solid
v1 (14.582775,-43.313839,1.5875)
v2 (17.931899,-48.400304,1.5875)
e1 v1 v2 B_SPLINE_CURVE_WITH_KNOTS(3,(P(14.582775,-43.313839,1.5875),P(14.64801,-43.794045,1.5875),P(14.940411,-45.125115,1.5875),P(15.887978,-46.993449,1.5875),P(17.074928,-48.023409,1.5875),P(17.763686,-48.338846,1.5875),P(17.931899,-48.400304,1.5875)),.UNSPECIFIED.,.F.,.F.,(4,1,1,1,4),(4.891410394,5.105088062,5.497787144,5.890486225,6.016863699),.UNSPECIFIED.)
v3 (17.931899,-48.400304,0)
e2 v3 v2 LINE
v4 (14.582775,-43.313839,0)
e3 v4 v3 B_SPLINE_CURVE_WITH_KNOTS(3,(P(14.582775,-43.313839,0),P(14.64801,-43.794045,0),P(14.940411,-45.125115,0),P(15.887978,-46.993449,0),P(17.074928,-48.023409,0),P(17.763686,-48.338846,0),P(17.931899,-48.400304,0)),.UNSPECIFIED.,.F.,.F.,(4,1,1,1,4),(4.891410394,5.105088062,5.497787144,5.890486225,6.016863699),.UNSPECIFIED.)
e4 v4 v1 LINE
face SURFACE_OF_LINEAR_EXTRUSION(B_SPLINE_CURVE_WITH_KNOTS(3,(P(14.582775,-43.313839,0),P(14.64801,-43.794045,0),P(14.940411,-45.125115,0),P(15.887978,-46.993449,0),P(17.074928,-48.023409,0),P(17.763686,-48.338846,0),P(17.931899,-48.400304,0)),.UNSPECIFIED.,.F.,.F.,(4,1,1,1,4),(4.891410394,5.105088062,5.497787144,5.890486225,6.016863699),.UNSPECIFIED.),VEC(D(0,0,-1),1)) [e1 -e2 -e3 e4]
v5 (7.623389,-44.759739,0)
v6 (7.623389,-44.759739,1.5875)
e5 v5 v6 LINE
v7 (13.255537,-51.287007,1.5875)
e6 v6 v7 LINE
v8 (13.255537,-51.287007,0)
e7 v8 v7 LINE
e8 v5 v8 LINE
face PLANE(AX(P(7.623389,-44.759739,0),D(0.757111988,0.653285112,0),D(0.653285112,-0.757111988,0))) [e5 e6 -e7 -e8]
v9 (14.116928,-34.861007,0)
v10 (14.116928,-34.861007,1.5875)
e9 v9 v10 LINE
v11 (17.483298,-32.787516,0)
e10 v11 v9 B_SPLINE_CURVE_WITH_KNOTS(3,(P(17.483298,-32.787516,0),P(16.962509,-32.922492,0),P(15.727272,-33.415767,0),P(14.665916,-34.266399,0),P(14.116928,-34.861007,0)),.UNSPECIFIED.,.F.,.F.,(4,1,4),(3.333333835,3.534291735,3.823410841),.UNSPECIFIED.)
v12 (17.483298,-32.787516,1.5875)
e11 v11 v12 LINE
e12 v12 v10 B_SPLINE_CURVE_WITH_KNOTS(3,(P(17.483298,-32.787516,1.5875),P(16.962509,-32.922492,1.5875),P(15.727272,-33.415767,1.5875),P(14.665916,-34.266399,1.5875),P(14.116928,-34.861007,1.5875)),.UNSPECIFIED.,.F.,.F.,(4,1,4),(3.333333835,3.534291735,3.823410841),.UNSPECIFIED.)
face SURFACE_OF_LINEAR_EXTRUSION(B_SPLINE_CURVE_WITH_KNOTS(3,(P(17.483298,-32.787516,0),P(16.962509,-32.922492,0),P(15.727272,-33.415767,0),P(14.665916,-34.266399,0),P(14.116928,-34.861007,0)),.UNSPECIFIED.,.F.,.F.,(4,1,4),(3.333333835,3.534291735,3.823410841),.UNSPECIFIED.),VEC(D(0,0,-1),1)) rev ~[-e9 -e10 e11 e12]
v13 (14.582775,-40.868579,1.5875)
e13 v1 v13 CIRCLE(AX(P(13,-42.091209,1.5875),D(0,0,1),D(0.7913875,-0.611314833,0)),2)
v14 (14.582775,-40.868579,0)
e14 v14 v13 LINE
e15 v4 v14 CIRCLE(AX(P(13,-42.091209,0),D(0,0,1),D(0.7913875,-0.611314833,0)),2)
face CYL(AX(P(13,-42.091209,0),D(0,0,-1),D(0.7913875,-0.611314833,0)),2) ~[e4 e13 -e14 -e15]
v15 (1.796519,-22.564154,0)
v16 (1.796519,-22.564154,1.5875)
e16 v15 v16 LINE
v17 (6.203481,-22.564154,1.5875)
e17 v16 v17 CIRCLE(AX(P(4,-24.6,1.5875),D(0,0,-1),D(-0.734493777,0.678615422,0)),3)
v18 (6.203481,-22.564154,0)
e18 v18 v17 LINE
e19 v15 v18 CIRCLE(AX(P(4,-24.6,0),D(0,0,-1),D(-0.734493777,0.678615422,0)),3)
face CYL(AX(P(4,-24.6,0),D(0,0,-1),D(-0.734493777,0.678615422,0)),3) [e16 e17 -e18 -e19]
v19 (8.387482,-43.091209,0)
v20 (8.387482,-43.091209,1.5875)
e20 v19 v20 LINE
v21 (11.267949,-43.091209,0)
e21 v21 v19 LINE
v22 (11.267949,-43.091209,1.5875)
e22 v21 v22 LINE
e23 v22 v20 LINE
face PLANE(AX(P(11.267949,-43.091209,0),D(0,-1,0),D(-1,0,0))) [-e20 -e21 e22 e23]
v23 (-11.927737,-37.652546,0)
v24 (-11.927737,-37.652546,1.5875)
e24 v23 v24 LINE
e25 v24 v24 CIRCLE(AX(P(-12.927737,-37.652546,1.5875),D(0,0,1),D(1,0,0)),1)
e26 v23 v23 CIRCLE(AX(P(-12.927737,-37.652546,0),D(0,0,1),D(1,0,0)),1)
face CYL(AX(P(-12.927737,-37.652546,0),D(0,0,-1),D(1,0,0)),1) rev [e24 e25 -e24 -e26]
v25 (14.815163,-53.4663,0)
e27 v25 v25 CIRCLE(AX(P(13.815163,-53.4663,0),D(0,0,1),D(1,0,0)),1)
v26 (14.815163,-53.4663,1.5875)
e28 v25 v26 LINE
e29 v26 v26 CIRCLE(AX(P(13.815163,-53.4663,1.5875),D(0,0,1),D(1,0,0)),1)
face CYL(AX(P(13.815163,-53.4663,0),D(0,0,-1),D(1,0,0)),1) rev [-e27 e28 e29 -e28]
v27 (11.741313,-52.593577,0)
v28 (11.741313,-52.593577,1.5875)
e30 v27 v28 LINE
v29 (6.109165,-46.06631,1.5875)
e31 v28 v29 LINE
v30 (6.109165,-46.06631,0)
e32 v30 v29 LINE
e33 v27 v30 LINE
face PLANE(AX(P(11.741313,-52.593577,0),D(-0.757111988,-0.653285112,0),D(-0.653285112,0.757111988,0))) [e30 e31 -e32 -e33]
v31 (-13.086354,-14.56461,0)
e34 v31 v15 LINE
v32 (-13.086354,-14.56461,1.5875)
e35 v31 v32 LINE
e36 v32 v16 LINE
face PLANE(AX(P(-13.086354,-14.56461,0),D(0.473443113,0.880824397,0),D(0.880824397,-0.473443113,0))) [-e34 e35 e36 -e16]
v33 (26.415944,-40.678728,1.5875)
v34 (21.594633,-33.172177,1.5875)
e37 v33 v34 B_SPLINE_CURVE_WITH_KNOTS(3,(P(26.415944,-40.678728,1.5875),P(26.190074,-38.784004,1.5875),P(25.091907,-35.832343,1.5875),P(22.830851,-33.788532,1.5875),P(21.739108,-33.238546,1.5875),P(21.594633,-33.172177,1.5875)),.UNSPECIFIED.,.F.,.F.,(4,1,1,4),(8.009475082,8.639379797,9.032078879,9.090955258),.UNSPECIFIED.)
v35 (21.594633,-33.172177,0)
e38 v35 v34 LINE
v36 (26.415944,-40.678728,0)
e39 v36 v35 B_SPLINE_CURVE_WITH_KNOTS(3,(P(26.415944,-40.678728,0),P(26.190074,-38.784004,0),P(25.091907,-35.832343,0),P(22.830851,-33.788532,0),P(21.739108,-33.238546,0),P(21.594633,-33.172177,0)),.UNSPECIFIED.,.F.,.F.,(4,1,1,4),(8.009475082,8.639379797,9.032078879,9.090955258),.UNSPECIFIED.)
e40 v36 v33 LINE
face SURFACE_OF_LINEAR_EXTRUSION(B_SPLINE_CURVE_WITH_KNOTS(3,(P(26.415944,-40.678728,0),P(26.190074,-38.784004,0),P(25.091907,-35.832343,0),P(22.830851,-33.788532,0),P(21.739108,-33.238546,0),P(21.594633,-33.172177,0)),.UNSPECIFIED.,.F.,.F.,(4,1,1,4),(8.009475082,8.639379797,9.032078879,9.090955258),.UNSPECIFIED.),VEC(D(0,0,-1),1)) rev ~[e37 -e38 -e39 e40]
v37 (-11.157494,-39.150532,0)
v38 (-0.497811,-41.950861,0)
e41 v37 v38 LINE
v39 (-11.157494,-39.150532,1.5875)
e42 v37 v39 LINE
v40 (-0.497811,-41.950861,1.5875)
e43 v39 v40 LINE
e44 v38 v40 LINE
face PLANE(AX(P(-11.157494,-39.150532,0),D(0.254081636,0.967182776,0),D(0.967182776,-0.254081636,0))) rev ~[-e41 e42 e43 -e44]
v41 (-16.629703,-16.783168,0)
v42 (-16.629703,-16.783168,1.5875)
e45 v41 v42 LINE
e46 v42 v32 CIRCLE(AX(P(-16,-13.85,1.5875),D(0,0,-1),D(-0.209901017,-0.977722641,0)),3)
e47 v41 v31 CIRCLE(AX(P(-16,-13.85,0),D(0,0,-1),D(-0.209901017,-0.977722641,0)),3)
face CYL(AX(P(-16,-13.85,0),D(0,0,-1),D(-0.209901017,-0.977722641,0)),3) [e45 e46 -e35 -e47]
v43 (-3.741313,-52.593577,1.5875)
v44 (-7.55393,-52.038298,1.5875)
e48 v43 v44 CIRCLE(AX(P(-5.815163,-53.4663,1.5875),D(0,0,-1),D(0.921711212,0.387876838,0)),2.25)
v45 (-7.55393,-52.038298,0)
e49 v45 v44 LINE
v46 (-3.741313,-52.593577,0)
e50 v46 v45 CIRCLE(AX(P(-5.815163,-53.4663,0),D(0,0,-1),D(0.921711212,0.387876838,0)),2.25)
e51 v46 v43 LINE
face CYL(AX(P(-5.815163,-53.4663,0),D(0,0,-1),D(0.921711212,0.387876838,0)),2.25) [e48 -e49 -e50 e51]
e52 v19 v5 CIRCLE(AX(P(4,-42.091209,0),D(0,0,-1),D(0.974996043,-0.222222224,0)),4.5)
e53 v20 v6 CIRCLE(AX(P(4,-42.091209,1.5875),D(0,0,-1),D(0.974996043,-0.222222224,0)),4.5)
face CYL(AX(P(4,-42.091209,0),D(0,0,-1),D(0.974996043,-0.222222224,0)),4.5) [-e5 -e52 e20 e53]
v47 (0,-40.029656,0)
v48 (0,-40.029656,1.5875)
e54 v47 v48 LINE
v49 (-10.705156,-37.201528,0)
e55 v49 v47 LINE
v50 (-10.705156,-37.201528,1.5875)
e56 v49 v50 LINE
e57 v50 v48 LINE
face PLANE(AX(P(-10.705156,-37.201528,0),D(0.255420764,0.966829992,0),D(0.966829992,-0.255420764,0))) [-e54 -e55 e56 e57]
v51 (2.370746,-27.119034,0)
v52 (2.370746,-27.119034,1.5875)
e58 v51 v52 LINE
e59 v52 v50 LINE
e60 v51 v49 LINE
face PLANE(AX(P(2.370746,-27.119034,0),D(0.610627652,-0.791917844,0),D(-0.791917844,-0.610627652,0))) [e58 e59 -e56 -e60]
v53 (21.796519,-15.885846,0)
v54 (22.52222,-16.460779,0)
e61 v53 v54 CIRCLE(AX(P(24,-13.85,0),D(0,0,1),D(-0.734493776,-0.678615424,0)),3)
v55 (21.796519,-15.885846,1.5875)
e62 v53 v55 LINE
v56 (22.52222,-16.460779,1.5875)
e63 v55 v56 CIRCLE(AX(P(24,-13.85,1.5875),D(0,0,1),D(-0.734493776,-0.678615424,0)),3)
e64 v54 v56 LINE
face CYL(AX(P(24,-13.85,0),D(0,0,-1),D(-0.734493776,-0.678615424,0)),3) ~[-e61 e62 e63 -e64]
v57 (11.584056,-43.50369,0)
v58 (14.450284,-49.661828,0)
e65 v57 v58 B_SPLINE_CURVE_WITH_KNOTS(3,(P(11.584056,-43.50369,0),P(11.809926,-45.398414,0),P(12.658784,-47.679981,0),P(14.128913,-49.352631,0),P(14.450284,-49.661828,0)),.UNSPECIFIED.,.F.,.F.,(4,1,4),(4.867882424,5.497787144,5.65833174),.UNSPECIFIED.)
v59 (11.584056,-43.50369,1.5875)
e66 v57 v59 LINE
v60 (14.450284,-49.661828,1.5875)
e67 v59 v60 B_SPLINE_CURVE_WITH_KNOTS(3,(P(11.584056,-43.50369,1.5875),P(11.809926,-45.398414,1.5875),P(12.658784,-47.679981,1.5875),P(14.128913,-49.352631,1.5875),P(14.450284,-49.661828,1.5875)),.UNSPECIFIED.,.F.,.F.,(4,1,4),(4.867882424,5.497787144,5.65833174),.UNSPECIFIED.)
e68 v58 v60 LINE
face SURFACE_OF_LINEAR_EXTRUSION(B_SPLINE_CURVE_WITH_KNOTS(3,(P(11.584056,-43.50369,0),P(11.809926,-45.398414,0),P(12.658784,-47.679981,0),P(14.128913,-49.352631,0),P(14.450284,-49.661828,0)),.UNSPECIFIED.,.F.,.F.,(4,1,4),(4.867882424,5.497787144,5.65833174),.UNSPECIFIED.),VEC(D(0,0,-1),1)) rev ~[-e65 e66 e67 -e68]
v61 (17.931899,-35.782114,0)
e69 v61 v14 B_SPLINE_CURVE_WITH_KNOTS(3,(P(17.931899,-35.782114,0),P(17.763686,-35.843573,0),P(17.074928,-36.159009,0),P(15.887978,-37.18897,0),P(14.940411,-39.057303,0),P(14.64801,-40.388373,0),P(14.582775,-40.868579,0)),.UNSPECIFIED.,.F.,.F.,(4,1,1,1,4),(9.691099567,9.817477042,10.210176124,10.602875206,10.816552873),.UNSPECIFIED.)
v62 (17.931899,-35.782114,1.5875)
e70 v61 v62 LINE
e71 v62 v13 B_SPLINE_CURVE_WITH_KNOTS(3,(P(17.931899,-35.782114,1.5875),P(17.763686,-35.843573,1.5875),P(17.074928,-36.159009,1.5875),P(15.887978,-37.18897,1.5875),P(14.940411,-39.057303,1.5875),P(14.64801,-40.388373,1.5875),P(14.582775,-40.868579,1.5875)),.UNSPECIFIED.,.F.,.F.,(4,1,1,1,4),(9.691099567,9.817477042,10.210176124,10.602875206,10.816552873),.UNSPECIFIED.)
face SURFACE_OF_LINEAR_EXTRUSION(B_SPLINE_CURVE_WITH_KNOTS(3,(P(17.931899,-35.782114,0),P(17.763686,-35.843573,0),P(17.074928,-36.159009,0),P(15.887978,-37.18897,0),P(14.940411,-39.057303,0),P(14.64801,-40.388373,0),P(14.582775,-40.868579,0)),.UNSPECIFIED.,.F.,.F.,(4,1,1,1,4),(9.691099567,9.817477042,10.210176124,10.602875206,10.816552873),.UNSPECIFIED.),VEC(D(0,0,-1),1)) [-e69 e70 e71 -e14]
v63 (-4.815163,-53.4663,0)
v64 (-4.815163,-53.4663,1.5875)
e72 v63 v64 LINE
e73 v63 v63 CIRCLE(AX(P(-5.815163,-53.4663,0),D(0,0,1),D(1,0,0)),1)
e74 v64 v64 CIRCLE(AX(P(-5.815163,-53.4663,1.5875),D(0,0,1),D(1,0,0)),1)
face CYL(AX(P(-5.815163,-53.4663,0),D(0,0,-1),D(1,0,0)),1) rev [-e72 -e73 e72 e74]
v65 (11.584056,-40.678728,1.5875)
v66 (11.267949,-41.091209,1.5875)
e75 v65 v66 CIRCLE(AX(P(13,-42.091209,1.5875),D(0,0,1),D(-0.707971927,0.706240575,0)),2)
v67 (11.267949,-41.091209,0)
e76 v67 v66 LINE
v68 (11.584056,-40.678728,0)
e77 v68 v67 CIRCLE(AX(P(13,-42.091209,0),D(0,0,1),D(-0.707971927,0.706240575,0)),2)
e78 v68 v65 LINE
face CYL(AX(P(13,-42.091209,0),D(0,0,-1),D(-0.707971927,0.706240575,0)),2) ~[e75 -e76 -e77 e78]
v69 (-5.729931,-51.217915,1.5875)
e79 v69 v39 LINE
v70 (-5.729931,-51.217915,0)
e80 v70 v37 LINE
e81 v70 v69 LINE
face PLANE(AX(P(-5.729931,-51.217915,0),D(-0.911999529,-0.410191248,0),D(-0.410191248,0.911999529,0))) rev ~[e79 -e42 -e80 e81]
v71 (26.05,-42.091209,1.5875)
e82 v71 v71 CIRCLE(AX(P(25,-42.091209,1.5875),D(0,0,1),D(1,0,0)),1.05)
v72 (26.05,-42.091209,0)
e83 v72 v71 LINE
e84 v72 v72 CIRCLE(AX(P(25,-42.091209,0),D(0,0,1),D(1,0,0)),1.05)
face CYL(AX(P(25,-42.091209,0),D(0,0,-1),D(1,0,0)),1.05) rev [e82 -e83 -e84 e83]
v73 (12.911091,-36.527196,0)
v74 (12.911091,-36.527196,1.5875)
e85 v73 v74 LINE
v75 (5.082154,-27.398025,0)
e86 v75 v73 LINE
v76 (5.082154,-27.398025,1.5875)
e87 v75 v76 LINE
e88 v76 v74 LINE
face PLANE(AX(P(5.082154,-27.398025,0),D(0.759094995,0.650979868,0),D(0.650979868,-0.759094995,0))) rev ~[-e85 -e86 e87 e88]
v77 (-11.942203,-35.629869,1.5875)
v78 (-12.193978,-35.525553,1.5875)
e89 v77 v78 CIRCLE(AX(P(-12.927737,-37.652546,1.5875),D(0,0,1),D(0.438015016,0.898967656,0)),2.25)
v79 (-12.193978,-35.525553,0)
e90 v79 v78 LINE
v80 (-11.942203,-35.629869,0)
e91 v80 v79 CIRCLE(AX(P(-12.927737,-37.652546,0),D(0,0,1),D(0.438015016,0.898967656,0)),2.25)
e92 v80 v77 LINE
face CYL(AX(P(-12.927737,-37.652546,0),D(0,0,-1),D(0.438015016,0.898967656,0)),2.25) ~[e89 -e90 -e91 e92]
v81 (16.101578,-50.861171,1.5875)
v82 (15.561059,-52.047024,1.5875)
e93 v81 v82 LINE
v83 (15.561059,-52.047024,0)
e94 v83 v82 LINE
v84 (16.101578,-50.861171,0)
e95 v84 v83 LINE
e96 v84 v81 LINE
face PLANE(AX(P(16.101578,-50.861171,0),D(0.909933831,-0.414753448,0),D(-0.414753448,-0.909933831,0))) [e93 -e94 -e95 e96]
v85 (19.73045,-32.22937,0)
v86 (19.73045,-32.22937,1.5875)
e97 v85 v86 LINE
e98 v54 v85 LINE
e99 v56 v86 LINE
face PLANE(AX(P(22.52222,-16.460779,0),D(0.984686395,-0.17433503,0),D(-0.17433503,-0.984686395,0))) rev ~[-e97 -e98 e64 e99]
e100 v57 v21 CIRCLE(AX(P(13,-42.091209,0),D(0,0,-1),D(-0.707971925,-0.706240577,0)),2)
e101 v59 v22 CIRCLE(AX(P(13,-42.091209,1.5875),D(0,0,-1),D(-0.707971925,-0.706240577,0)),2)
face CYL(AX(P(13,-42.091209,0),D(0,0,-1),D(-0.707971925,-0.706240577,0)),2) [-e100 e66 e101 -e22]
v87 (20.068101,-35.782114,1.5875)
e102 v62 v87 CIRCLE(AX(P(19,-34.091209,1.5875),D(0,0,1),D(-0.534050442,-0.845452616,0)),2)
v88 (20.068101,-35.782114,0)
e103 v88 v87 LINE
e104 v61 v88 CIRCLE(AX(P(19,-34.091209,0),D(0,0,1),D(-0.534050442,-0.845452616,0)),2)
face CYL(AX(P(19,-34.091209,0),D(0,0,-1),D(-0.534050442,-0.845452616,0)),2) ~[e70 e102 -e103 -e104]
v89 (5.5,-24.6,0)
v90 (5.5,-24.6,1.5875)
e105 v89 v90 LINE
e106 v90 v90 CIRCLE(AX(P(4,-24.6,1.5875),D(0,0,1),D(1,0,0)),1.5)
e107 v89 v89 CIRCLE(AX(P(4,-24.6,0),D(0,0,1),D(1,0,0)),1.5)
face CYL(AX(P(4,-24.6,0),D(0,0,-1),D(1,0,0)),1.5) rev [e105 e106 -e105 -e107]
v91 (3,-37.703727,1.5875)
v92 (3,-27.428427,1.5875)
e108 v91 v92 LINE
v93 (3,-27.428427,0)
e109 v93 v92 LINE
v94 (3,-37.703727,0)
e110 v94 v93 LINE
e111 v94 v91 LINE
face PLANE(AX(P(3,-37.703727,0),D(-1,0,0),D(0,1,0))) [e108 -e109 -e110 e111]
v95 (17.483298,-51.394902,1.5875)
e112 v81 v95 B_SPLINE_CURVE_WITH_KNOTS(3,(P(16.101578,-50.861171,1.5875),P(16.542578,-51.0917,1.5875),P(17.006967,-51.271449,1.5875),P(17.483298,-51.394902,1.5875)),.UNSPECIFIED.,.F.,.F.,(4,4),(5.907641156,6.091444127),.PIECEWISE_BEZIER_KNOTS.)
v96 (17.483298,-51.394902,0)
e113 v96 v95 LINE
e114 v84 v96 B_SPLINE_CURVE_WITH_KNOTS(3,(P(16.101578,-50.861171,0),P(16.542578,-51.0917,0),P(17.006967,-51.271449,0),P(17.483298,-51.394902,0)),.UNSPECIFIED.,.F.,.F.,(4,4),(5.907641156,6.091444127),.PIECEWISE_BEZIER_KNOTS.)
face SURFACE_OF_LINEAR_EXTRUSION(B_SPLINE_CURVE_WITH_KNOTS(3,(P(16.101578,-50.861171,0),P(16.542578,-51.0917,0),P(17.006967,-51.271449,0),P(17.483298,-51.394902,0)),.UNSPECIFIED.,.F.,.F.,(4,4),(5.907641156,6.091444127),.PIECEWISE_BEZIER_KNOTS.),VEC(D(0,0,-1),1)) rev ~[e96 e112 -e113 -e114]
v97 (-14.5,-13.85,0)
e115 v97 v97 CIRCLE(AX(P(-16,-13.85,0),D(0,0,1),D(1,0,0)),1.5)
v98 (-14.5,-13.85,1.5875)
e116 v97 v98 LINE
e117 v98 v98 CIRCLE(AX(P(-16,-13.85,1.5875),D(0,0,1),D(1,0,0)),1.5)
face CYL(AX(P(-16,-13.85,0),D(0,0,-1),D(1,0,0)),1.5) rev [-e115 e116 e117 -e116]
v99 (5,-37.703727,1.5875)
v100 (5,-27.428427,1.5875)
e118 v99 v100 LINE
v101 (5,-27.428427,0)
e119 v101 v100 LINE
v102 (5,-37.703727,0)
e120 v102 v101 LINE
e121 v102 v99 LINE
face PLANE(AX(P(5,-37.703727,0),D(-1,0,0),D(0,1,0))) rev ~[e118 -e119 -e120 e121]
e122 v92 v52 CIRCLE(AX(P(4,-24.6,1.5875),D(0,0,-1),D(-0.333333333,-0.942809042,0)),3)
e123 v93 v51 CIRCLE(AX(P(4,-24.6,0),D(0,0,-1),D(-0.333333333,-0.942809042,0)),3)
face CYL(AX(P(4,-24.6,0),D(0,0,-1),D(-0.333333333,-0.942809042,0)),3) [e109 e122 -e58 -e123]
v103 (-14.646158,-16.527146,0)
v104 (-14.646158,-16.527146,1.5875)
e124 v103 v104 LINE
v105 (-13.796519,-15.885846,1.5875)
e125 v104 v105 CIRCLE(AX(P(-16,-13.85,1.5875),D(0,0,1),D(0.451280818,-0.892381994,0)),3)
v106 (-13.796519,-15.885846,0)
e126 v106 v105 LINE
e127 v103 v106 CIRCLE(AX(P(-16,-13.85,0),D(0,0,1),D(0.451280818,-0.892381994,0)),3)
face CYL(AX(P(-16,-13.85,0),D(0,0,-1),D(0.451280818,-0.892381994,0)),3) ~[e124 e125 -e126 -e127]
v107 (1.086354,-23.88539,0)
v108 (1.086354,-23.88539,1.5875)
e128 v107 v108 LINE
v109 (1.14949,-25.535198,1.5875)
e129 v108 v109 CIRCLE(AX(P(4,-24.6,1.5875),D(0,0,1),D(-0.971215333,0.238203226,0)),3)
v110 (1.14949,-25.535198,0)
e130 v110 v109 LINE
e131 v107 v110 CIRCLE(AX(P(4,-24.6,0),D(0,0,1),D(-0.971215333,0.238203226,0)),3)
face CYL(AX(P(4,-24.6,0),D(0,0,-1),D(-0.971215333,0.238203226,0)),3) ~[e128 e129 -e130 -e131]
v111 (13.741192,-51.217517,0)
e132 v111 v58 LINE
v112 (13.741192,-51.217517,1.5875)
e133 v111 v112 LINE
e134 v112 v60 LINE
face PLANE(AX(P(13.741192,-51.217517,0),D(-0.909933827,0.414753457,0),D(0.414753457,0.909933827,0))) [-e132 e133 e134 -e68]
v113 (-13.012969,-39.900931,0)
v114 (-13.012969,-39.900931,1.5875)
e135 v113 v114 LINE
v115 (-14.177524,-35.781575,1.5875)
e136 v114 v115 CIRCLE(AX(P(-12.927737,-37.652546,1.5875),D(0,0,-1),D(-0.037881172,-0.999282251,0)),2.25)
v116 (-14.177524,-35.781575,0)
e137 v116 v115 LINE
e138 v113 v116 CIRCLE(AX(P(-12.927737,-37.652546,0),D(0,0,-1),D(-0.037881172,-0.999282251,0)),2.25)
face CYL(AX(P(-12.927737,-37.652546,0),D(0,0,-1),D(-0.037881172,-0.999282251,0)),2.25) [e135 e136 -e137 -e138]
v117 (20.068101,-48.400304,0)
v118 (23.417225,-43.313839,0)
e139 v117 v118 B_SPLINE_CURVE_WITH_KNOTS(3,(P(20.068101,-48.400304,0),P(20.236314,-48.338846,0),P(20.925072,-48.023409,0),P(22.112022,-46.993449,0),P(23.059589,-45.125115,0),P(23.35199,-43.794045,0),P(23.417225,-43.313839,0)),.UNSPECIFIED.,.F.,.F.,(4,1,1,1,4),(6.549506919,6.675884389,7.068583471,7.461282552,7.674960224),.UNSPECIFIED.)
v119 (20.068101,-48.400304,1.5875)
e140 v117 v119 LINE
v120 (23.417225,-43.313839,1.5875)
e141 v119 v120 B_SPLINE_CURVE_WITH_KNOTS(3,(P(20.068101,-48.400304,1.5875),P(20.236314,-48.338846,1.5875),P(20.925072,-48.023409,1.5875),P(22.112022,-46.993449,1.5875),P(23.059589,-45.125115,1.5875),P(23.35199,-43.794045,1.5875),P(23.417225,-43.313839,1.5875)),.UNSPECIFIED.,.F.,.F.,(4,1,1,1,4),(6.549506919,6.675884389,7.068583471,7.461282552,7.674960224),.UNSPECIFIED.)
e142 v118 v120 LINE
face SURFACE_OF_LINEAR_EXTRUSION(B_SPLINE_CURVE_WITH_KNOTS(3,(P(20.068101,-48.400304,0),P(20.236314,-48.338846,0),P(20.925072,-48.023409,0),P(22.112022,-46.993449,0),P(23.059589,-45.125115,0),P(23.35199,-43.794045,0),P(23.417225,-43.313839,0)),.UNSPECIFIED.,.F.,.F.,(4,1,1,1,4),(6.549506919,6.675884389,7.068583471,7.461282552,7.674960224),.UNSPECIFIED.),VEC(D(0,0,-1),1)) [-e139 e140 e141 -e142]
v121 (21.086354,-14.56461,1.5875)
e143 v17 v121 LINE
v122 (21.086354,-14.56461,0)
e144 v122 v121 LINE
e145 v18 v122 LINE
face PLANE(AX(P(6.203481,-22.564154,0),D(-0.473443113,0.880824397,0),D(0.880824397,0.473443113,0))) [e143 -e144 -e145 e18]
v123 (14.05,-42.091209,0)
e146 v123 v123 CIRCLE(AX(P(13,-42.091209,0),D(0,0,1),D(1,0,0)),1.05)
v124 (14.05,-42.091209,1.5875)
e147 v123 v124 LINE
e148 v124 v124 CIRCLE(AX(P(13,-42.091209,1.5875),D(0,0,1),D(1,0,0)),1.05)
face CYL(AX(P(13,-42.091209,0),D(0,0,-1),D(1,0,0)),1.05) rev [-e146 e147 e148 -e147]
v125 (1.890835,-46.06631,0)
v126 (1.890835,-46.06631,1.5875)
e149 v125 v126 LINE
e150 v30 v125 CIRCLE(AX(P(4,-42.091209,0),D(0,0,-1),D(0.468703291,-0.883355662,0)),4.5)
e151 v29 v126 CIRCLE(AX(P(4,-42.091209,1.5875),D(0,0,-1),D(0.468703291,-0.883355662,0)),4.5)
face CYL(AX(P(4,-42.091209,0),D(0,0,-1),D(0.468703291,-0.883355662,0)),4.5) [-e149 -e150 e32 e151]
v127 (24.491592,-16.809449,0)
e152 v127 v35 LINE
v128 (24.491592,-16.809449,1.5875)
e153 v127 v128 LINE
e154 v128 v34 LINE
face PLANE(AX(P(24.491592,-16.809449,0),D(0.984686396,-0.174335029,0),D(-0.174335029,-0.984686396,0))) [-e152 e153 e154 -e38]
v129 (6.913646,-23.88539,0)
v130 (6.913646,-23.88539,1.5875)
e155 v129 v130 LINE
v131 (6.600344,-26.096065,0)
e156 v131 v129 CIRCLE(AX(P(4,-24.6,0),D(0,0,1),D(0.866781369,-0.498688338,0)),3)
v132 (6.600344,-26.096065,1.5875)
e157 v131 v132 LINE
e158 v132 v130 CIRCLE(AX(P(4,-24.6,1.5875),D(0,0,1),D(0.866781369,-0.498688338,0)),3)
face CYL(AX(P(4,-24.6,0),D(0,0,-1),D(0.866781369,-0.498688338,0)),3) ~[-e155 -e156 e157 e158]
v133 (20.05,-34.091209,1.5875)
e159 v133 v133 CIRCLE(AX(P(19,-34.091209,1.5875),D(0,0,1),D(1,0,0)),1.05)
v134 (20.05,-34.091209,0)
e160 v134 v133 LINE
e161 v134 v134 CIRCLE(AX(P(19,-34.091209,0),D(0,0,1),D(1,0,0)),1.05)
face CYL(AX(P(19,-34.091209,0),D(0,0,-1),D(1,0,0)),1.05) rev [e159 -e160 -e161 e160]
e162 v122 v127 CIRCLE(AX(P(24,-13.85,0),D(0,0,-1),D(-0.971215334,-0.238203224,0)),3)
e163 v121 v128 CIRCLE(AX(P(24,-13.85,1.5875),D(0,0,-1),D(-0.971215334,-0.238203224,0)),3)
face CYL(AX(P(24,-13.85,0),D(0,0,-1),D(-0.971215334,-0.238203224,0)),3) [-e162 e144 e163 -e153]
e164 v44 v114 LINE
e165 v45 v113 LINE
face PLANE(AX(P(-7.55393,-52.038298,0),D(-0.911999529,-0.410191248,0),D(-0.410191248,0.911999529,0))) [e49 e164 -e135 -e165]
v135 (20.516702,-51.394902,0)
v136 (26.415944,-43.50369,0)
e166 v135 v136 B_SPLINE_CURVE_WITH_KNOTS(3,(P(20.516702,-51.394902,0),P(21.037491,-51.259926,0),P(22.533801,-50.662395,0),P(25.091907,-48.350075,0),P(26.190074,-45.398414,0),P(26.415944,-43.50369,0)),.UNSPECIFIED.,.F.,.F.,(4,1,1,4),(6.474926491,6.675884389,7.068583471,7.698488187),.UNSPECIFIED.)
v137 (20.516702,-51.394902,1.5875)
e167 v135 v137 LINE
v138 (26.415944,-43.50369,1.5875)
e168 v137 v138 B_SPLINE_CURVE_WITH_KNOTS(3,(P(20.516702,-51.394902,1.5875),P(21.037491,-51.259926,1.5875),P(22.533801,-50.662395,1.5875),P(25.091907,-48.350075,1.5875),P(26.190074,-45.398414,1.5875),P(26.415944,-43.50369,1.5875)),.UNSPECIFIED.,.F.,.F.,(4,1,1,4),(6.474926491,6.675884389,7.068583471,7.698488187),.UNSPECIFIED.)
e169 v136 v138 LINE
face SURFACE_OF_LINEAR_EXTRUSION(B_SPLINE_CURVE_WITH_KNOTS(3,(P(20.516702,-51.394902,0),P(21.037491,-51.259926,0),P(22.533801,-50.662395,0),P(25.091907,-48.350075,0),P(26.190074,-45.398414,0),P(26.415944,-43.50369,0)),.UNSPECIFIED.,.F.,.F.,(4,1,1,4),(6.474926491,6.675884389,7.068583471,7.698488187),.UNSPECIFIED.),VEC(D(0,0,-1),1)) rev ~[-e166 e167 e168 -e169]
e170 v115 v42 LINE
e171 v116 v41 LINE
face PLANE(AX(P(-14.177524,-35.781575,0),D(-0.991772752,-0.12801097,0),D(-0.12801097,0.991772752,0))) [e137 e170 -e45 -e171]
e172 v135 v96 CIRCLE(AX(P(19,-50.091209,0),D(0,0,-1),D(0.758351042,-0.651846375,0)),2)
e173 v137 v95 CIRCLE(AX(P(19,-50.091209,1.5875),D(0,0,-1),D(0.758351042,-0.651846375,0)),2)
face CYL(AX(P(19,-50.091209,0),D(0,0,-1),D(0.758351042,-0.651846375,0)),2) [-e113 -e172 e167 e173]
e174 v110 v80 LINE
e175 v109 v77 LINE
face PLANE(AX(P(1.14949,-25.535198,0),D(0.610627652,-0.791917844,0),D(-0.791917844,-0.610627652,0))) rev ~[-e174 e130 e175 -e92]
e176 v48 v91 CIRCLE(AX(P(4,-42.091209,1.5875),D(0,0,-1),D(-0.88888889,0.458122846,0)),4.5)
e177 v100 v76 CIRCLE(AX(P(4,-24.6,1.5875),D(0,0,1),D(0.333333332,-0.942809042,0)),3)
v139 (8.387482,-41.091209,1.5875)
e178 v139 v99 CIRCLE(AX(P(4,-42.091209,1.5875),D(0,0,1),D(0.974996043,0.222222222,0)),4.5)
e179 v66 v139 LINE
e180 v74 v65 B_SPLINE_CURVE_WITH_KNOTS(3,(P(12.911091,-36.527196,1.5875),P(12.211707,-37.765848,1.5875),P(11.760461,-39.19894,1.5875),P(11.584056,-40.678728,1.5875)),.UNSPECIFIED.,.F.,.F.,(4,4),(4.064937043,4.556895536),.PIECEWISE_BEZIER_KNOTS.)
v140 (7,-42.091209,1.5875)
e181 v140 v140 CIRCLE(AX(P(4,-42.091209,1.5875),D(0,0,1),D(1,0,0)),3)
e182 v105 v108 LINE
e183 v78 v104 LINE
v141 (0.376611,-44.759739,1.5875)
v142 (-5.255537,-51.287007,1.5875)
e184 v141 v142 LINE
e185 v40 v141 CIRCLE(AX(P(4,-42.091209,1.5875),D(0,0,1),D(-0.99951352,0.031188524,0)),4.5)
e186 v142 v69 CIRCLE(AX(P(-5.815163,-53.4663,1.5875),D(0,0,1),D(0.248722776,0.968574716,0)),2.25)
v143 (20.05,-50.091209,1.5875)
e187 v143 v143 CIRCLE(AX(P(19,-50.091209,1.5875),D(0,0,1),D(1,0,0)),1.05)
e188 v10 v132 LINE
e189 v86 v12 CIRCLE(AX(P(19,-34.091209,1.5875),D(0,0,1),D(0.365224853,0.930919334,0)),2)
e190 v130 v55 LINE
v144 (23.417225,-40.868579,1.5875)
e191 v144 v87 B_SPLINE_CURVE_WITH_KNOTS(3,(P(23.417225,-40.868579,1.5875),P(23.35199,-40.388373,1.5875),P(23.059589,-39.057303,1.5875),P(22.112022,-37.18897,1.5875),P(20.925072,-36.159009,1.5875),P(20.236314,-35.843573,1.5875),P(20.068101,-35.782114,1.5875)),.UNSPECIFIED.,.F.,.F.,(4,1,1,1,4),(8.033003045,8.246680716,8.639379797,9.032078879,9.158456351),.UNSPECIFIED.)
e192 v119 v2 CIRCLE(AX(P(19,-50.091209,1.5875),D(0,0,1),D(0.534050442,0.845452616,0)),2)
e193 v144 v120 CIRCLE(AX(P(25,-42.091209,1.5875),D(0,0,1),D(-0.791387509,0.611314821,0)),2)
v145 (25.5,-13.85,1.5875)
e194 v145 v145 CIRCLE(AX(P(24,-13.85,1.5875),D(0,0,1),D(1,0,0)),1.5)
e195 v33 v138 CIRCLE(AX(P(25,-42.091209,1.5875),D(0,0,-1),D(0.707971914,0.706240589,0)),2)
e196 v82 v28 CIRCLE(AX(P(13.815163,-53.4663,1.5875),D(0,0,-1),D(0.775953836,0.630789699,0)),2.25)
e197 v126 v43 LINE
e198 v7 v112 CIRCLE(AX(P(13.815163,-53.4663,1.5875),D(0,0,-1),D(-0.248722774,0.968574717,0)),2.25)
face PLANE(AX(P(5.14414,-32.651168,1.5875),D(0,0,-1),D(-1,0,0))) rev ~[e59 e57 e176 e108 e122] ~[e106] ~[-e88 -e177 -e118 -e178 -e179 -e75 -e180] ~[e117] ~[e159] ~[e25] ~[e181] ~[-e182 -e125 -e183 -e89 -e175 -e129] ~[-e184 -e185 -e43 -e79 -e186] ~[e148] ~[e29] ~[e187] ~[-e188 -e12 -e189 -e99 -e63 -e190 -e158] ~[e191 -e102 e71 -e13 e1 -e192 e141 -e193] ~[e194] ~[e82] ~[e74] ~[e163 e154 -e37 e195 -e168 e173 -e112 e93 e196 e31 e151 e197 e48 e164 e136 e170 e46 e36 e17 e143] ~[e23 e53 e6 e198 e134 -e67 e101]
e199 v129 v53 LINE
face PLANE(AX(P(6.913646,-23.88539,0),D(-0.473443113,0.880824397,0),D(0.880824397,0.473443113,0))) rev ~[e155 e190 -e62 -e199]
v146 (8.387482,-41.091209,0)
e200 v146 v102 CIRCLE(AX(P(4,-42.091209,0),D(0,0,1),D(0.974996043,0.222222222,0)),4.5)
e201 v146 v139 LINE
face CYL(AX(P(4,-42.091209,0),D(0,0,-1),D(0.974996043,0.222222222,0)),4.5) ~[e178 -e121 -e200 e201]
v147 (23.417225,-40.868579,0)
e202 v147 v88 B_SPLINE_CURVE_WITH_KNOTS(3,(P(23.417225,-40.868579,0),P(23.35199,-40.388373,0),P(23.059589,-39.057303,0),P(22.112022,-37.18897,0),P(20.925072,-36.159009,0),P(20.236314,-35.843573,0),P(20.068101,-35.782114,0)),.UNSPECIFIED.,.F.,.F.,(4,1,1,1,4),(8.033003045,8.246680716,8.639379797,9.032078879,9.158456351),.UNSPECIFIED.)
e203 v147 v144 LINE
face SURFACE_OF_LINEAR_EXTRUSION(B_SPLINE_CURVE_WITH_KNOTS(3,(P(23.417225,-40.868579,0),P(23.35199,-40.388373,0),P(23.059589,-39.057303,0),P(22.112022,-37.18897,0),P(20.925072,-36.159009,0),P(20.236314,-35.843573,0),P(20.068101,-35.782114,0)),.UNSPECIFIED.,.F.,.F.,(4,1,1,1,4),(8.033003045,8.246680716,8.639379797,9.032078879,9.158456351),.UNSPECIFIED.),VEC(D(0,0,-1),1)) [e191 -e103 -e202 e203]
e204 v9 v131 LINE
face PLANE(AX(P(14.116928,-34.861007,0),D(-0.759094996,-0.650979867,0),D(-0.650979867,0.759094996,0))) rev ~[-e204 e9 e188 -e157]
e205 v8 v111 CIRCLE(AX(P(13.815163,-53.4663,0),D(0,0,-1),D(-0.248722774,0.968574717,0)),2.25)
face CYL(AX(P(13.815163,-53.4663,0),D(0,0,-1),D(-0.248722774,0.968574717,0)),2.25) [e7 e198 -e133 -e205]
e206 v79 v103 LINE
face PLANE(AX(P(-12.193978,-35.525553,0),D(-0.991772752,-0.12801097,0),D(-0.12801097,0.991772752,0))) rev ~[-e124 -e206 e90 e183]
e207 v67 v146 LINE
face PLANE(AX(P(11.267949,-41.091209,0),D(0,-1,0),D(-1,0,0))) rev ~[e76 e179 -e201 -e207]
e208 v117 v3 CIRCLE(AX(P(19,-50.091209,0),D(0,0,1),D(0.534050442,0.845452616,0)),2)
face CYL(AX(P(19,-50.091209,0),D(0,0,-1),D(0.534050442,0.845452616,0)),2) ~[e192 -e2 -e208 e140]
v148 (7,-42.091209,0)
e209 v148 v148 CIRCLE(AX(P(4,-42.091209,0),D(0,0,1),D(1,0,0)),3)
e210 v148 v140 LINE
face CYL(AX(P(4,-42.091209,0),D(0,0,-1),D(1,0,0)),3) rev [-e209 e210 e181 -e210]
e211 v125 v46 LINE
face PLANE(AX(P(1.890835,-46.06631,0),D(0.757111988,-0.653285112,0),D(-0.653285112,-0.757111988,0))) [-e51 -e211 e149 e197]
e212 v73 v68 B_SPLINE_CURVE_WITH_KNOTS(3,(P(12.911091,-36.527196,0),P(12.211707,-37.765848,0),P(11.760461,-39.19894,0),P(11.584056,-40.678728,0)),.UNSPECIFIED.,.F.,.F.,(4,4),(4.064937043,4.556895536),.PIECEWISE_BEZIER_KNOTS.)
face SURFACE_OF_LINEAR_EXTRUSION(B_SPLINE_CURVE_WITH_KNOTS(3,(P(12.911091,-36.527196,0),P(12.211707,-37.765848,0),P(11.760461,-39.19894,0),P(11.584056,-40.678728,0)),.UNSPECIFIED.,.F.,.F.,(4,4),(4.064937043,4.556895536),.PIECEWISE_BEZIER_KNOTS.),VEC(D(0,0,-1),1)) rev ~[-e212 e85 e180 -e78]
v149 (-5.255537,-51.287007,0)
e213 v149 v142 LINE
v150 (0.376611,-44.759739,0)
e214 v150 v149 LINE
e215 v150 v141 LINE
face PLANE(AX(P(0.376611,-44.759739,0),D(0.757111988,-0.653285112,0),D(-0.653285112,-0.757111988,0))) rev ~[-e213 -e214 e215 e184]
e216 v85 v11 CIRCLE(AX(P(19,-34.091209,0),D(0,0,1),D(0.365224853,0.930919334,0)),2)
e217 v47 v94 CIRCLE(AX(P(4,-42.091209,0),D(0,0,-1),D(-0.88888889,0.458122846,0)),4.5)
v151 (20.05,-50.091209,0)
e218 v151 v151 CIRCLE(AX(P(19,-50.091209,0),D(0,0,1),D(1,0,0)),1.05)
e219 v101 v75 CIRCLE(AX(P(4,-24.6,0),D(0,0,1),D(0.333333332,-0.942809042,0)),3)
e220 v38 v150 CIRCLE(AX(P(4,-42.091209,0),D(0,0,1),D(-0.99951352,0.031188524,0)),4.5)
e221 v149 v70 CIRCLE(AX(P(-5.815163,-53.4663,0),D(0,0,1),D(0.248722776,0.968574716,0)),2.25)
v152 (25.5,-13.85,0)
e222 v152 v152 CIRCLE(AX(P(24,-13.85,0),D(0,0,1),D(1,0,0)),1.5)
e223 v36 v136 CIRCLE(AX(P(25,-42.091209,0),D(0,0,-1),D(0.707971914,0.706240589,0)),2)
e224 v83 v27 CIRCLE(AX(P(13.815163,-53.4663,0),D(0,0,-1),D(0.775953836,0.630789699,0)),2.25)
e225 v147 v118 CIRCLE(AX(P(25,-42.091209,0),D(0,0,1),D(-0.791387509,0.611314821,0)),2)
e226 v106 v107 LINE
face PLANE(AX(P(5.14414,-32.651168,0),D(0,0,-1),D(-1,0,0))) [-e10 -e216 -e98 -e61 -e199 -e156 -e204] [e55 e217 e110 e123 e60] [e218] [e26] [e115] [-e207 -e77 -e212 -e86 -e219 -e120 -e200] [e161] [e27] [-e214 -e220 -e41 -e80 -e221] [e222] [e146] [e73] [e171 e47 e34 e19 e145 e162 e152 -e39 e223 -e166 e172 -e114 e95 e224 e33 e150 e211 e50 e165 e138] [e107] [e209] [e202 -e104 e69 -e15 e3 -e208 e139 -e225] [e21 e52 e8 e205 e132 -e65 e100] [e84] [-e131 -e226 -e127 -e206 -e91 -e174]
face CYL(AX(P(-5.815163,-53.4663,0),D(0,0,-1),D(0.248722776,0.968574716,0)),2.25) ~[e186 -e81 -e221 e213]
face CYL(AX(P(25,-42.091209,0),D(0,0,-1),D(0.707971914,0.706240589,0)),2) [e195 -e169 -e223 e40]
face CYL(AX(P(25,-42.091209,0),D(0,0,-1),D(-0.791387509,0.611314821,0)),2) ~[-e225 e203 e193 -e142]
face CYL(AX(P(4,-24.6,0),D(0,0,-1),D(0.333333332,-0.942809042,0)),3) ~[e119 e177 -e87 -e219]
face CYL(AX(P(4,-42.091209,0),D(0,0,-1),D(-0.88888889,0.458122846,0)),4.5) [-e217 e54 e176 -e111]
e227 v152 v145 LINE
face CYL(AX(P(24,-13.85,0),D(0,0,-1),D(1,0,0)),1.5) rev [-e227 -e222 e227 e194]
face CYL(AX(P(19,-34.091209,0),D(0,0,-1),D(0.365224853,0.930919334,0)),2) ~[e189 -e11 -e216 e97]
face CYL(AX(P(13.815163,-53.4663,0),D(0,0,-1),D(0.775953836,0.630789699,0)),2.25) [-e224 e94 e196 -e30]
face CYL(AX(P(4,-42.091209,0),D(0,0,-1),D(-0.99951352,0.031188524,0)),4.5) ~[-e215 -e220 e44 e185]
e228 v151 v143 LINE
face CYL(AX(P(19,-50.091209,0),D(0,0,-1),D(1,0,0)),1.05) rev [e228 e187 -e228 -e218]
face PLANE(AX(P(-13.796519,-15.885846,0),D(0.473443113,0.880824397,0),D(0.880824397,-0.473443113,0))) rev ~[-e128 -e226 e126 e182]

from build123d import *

# Parameters (mm, degrees)
SKETCH8_R           = 1
SKETCH8_R_2         = 1.500000001
SKETCH8_R_3         = 3
SKETCH8_R_4         = 1.5
SKETCH8_R_5         = 1.049999998
SKETCH8_R_6         = 1.05
BOSS_EXTRUDE1_DEPTH = 1.5875


with BuildPart() as part:
    # Sketch8 → Boss-Extrude1 (new body)
    with BuildSketch(Plane.XY):
        with BuildLine():
            Line((-13.086353998, -14.564609673), (1.796518672, -22.564153733))
            ThreePointArc((1.796518672, -22.564153733), (4.000000002, -21.6), (6.203481333, -22.564153733))
            Line((6.203481333, -22.564153733), (21.086354002, -14.564609673))
            ThreePointArc((21.086354002, -14.564609673), (25.651184859, -11.34528673), (24.491592476, -16.80944874))
            Line((24.491592476, -16.80944874), (21.594632818, -33.172177311))
            add(Edge.make_bspline(
                [(26.415943842, -40.678727885), (26.190074366, -38.784003898), (25.091906545, -35.832342913), (22.830851039, -33.788532272), (21.739107595, -33.238545613), (21.594632818, -33.172177311)],
                knots=[8.009475082, 8.009475082, 8.009475082, 8.009475082, 8.639379797, 9.032078879, 9.090955258, 9.090955258, 9.090955258, 9.090955258], degree=3))
            ThreePointArc((26.415943842, -40.678727885), (27.000000014, -42.091209061), (26.415943843, -43.503690238))
            add(Edge.make_bspline(
                [(20.516702098, -51.394901812), (21.03749091, -51.259926354), (22.533800563, -50.662395377), (25.091906547, -48.350075217), (26.190074368, -45.398414228), (26.415943843, -43.503690238)],
                knots=[6.474926491, 6.474926491, 6.474926491, 6.474926491, 6.675884389, 7.068583471, 7.698488187, 7.698488187, 7.698488187, 7.698488187], degree=3))
            ThreePointArc((20.516702098, -51.394901812), (19.000000019, -52.091209062), (17.483297936, -51.39490182))
            add(Edge.make_bspline(
                [(16.101578265, -50.861171127), (16.542577532, -51.091700443), (17.006966665, -51.271448649), (17.483297936, -51.39490182)],
                knots=[5.907641156, 5.907641156, 5.907641156, 5.907641156, 6.091444127, 6.091444127, 6.091444127, 6.091444127], degree=3))
            Line((16.101578265, -50.861171127), (15.561059424, -52.047023548))
            ThreePointArc((15.561059424, -52.047023548), (14.133861857, -55.693615173), (11.741313067, -52.593577485))
            Line((11.741313067, -52.593577485), (6.109164809, -46.066309546))
            ThreePointArc((6.109164809, -46.066309546), (4.000000002, -46.591209068), (1.890835194, -46.066309546))
            Line((1.890835194, -46.066309546), (-3.741313063, -52.593577485))
            ThreePointArc((-3.741313063, -52.593577485), (-6.139438128, -55.692810158), (-7.55392971, -52.038297803))
            Line((-7.55392971, -52.038297803), (-13.012969359, -39.900931113))
            ThreePointArc((-13.012969359, -39.900931113), (-15.09287941, -38.264638476), (-14.177523832, -35.78157513))
            Line((-14.177523832, -35.78157513), (-16.629703051, -16.783167924))
            ThreePointArc((-16.629703051, -16.783167924), (-17.592042406, -11.307284723), (-13.086353998, -14.564609673))
        make_face()
        with Locations((-12.927736722, -37.652546048)):
            Circle(SKETCH8_R, mode=Mode.SUBTRACT)
        with Locations((-15.999999999, -13.85)):
            Circle(SKETCH8_R_2, mode=Mode.SUBTRACT)
        with Locations((4.000000002, -42.091209068)):
            Circle(SKETCH8_R_3, mode=Mode.SUBTRACT)
        with Locations((4.000000002, -24.6)):
            Circle(SKETCH8_R_4, mode=Mode.SUBTRACT)
        with Locations((19.000000014, -34.091209062)):
            Circle(SKETCH8_R_5, mode=Mode.SUBTRACT)
        with Locations((25.000000014, -42.091209062)):
            Circle(SKETCH8_R_6, mode=Mode.SUBTRACT)
        with Locations((24.000000003, -13.85)):
            Circle(SKETCH8_R_4, mode=Mode.SUBTRACT)
        with Locations((19.000000014, -50.091209062)):
            Circle(SKETCH8_R_6, mode=Mode.SUBTRACT)
        with Locations((13.000000014, -42.091209062)):
            Circle(SKETCH8_R_5, mode=Mode.SUBTRACT)
        with Locations((13.815163294, -53.466300372)):
            Circle(SKETCH8_R, mode=Mode.SUBTRACT)
        with Locations((-5.81516329, -53.466300372)):
            Circle(SKETCH8_R, mode=Mode.SUBTRACT)
        with BuildLine():
            Line((-13.796518668, -15.885846268), (1.086354002, -23.885390328))
            ThreePointArc((1.086354002, -23.885390328), (1.002194363, -24.714722935), (1.149490441, -25.535197969))
            Line((1.149490441, -25.535197969), (-11.942202931, -35.629868826))
            ThreePointArc((-11.942202931, -35.629868826), (-12.066509782, -35.573895487), (-12.193978328, -35.52555319))
            Line((-12.193978328, -35.52555319), (-14.646157547, -16.527145984))
            ThreePointArc((-14.646157547, -16.527145984), (-14.192666478, -16.244482313), (-13.796518668, -15.885846268))
        make_face(mode=Mode.SUBTRACT)
        with BuildLine():
            Line((6.913646003, -23.885390328), (21.796518672, -15.885846268))
            ThreePointArc((21.796518672, -15.885846268), (22.137056458, -16.201476419), (22.522219684, -16.460778683))
            Line((22.522219684, -16.460778683), (19.730449721, -32.229370394))
            ThreePointArc((19.730449721, -32.229370394), (18.517890153, -32.150186115), (17.483297928, -32.787516314))
            add(Edge.make_bspline(
                [(17.483297928, -32.787516314), (16.962509109, -32.922491772), (15.727272297, -33.415766846), (14.665915712, -34.26639873), (14.116927694, -34.86100734)],
                knots=[3.333333835, 3.333333835, 3.333333835, 3.333333835, 3.534291735, 3.823410841, 3.823410841, 3.823410841, 3.823410841], degree=3))
            Line((14.116927694, -34.86100734), (6.60034411, -26.096065012))
            ThreePointArc((6.60034411, -26.096065012), (6.970318566, -25.020960368), (6.913646003, -23.885390328))
        make_face(mode=Mode.SUBTRACT)
        with BuildLine():
            Line((11.267949203, -41.091209067), (8.387482195, -41.091209067))
            ThreePointArc((8.387482195, -41.091209067), (7.181980517, -38.909228552), (5.000000002, -37.703726874))
            Line((5.000000002, -37.703726874), (5.000000002, -27.428427125))
            ThreePointArc((5.000000002, -27.428427125), (5.041188034, -27.41352581), (5.082154119, -27.398024744))
            Line((5.082154119, -27.398024744), (12.911091108, -36.527196283))
            add(Edge.make_bspline(
                [(12.911091108, -36.527196283), (12.211706609, -37.765848449), (11.760461262, -39.198939723), (11.584056161, -40.67872791)],
                knots=[4.064937043, 4.064937043, 4.064937043, 4.064937043, 4.556895536, 4.556895536, 4.556895536, 4.556895536], degree=3))
            ThreePointArc((11.584056161, -40.67872791), (11.412548353, -40.874657697), (11.267949203, -41.091209067))
        make_face(mode=Mode.SUBTRACT)
        with BuildLine():
            Line((11.267949213, -43.091209073), (8.387482194, -43.091209073))
            ThreePointArc((8.387482194, -43.091209073), (8.091394843, -43.964838767), (7.623388786, -44.759739322))
            Line((7.623388786, -44.759739322), (13.255537044, -51.287007261))
            ThreePointArc((13.255537044, -51.287007261), (13.496464731, -51.23898557), (13.741191761, -51.217516653))
            Line((13.741191761, -51.217516653), (14.450284347, -49.6618278))
            add(Edge.make_bspline(
                [(11.58405616, -43.503690213), (11.809925632, -45.398414212), (12.658784204, -47.679980557), (14.128913372, -49.352631306), (14.450284347, -49.6618278)],
                knots=[4.867882424, 4.867882424, 4.867882424, 4.867882424, 5.497787144, 5.65833174, 5.65833174, 5.65833174, 5.65833174], degree=3))
            ThreePointArc((11.58405616, -43.503690213), (11.412548358, -43.307760434), (11.267949213, -43.091209073))
        make_face(mode=Mode.SUBTRACT)
        with BuildLine():
            Line((-10.705156101, -37.20152807), (0, -40.029656258))
            ThreePointArc((0, -40.029656258), (1.242739245, -38.534874842), (3.000000002, -37.703726874))
            Line((3.000000002, -37.703726874), (3.000000002, -27.428427125))
            ThreePointArc((3.000000002, -27.428427125), (2.676302315, -27.292178381), (2.370745744, -27.119033657))
            Line((2.370745744, -27.119033657), (-10.705156101, -37.20152807))
        make_face(mode=Mode.SUBTRACT)
        with BuildLine():
            Line((-5.729930653, -51.217915307), (-11.15749378, -39.150532004))
            Line((-11.15749378, -39.150532004), (-0.497810837, -41.950860704))
            ThreePointArc((-0.497810837, -41.950860704), (-0.296617342, -43.428773795), (0.376611217, -44.759739322))
            Line((0.376611217, -44.759739322), (-5.255537039, -51.287007261))
            ThreePointArc((-5.255537039, -51.287007261), (-5.490888451, -51.239790585), (-5.729930653, -51.217915307))
        make_face(mode=Mode.SUBTRACT)
        with BuildLine():
            ThreePointArc((17.931899131, -35.782114294), (19.000000009, -36.091209062), (20.068100889, -35.782114299))
            add(Edge.make_bspline(
                [(23.417224995, -40.868579421), (23.351989797, -40.388373193), (23.059588765, -39.057302945), (22.112022209, -37.188969501), (20.925072461, -36.159009178), (20.236313774, -35.843572565), (20.068100889, -35.782114299)],
                knots=[8.033003045, 8.033003045, 8.033003045, 8.033003045, 8.246680716, 8.639379797, 9.032078879, 9.158456351, 9.158456351, 9.158456351, 9.158456351], degree=3))
            ThreePointArc((23.417224995, -40.868579421), (23.000000014, -42.091209063), (23.417224996, -43.313838704))
            add(Edge.make_bspline(
                [(20.068100897, -48.40030383), (20.23631378, -48.338845564), (20.925072464, -48.023408951), (22.112022209, -46.993448631), (23.059588765, -45.125115185), (23.351989798, -43.794044934), (23.417224996, -43.313838704)],
                knots=[6.549506919, 6.549506919, 6.549506919, 6.549506919, 6.675884389, 7.068583471, 7.461282552, 7.674960224, 7.674960224, 7.674960224, 7.674960224], degree=3))
            ThreePointArc((20.068100897, -48.40030383), (19.000000009, -48.091209062), (17.931899123, -48.400303835))
            add(Edge.make_bspline(
                [(14.582775013, -43.313838729), (14.648010212, -43.79404495), (14.940411244, -45.125115192), (15.887977797, -46.993448631), (17.074927547, -48.023408955), (17.763686236, -48.338845569), (17.931899123, -48.400303835)],
                knots=[4.891410394, 4.891410394, 4.891410394, 4.891410394, 5.105088062, 5.497787144, 5.890486225, 6.016863699, 6.016863699, 6.016863699, 6.016863699], degree=3))
            ThreePointArc((14.582775013, -43.313838729), (15.000000014, -42.091209063), (14.582775014, -40.868579396))
            add(Edge.make_bspline(
                [(17.931899131, -35.782114294), (17.763686241, -35.843572561), (17.07492755, -36.159009174), (15.887977797, -37.188969501), (14.940411245, -39.057302938), (14.648010213, -40.388373177), (14.582775014, -40.868579396)],
                knots=[9.691099567, 9.691099567, 9.691099567, 9.691099567, 9.817477042, 10.210176124, 10.602875206, 10.816552873, 10.816552873, 10.816552873, 10.816552873], degree=3))
        make_face(mode=Mode.SUBTRACT)
    extrude(amount=BOSS_EXTRUDE1_DEPTH)


solid = part.part
